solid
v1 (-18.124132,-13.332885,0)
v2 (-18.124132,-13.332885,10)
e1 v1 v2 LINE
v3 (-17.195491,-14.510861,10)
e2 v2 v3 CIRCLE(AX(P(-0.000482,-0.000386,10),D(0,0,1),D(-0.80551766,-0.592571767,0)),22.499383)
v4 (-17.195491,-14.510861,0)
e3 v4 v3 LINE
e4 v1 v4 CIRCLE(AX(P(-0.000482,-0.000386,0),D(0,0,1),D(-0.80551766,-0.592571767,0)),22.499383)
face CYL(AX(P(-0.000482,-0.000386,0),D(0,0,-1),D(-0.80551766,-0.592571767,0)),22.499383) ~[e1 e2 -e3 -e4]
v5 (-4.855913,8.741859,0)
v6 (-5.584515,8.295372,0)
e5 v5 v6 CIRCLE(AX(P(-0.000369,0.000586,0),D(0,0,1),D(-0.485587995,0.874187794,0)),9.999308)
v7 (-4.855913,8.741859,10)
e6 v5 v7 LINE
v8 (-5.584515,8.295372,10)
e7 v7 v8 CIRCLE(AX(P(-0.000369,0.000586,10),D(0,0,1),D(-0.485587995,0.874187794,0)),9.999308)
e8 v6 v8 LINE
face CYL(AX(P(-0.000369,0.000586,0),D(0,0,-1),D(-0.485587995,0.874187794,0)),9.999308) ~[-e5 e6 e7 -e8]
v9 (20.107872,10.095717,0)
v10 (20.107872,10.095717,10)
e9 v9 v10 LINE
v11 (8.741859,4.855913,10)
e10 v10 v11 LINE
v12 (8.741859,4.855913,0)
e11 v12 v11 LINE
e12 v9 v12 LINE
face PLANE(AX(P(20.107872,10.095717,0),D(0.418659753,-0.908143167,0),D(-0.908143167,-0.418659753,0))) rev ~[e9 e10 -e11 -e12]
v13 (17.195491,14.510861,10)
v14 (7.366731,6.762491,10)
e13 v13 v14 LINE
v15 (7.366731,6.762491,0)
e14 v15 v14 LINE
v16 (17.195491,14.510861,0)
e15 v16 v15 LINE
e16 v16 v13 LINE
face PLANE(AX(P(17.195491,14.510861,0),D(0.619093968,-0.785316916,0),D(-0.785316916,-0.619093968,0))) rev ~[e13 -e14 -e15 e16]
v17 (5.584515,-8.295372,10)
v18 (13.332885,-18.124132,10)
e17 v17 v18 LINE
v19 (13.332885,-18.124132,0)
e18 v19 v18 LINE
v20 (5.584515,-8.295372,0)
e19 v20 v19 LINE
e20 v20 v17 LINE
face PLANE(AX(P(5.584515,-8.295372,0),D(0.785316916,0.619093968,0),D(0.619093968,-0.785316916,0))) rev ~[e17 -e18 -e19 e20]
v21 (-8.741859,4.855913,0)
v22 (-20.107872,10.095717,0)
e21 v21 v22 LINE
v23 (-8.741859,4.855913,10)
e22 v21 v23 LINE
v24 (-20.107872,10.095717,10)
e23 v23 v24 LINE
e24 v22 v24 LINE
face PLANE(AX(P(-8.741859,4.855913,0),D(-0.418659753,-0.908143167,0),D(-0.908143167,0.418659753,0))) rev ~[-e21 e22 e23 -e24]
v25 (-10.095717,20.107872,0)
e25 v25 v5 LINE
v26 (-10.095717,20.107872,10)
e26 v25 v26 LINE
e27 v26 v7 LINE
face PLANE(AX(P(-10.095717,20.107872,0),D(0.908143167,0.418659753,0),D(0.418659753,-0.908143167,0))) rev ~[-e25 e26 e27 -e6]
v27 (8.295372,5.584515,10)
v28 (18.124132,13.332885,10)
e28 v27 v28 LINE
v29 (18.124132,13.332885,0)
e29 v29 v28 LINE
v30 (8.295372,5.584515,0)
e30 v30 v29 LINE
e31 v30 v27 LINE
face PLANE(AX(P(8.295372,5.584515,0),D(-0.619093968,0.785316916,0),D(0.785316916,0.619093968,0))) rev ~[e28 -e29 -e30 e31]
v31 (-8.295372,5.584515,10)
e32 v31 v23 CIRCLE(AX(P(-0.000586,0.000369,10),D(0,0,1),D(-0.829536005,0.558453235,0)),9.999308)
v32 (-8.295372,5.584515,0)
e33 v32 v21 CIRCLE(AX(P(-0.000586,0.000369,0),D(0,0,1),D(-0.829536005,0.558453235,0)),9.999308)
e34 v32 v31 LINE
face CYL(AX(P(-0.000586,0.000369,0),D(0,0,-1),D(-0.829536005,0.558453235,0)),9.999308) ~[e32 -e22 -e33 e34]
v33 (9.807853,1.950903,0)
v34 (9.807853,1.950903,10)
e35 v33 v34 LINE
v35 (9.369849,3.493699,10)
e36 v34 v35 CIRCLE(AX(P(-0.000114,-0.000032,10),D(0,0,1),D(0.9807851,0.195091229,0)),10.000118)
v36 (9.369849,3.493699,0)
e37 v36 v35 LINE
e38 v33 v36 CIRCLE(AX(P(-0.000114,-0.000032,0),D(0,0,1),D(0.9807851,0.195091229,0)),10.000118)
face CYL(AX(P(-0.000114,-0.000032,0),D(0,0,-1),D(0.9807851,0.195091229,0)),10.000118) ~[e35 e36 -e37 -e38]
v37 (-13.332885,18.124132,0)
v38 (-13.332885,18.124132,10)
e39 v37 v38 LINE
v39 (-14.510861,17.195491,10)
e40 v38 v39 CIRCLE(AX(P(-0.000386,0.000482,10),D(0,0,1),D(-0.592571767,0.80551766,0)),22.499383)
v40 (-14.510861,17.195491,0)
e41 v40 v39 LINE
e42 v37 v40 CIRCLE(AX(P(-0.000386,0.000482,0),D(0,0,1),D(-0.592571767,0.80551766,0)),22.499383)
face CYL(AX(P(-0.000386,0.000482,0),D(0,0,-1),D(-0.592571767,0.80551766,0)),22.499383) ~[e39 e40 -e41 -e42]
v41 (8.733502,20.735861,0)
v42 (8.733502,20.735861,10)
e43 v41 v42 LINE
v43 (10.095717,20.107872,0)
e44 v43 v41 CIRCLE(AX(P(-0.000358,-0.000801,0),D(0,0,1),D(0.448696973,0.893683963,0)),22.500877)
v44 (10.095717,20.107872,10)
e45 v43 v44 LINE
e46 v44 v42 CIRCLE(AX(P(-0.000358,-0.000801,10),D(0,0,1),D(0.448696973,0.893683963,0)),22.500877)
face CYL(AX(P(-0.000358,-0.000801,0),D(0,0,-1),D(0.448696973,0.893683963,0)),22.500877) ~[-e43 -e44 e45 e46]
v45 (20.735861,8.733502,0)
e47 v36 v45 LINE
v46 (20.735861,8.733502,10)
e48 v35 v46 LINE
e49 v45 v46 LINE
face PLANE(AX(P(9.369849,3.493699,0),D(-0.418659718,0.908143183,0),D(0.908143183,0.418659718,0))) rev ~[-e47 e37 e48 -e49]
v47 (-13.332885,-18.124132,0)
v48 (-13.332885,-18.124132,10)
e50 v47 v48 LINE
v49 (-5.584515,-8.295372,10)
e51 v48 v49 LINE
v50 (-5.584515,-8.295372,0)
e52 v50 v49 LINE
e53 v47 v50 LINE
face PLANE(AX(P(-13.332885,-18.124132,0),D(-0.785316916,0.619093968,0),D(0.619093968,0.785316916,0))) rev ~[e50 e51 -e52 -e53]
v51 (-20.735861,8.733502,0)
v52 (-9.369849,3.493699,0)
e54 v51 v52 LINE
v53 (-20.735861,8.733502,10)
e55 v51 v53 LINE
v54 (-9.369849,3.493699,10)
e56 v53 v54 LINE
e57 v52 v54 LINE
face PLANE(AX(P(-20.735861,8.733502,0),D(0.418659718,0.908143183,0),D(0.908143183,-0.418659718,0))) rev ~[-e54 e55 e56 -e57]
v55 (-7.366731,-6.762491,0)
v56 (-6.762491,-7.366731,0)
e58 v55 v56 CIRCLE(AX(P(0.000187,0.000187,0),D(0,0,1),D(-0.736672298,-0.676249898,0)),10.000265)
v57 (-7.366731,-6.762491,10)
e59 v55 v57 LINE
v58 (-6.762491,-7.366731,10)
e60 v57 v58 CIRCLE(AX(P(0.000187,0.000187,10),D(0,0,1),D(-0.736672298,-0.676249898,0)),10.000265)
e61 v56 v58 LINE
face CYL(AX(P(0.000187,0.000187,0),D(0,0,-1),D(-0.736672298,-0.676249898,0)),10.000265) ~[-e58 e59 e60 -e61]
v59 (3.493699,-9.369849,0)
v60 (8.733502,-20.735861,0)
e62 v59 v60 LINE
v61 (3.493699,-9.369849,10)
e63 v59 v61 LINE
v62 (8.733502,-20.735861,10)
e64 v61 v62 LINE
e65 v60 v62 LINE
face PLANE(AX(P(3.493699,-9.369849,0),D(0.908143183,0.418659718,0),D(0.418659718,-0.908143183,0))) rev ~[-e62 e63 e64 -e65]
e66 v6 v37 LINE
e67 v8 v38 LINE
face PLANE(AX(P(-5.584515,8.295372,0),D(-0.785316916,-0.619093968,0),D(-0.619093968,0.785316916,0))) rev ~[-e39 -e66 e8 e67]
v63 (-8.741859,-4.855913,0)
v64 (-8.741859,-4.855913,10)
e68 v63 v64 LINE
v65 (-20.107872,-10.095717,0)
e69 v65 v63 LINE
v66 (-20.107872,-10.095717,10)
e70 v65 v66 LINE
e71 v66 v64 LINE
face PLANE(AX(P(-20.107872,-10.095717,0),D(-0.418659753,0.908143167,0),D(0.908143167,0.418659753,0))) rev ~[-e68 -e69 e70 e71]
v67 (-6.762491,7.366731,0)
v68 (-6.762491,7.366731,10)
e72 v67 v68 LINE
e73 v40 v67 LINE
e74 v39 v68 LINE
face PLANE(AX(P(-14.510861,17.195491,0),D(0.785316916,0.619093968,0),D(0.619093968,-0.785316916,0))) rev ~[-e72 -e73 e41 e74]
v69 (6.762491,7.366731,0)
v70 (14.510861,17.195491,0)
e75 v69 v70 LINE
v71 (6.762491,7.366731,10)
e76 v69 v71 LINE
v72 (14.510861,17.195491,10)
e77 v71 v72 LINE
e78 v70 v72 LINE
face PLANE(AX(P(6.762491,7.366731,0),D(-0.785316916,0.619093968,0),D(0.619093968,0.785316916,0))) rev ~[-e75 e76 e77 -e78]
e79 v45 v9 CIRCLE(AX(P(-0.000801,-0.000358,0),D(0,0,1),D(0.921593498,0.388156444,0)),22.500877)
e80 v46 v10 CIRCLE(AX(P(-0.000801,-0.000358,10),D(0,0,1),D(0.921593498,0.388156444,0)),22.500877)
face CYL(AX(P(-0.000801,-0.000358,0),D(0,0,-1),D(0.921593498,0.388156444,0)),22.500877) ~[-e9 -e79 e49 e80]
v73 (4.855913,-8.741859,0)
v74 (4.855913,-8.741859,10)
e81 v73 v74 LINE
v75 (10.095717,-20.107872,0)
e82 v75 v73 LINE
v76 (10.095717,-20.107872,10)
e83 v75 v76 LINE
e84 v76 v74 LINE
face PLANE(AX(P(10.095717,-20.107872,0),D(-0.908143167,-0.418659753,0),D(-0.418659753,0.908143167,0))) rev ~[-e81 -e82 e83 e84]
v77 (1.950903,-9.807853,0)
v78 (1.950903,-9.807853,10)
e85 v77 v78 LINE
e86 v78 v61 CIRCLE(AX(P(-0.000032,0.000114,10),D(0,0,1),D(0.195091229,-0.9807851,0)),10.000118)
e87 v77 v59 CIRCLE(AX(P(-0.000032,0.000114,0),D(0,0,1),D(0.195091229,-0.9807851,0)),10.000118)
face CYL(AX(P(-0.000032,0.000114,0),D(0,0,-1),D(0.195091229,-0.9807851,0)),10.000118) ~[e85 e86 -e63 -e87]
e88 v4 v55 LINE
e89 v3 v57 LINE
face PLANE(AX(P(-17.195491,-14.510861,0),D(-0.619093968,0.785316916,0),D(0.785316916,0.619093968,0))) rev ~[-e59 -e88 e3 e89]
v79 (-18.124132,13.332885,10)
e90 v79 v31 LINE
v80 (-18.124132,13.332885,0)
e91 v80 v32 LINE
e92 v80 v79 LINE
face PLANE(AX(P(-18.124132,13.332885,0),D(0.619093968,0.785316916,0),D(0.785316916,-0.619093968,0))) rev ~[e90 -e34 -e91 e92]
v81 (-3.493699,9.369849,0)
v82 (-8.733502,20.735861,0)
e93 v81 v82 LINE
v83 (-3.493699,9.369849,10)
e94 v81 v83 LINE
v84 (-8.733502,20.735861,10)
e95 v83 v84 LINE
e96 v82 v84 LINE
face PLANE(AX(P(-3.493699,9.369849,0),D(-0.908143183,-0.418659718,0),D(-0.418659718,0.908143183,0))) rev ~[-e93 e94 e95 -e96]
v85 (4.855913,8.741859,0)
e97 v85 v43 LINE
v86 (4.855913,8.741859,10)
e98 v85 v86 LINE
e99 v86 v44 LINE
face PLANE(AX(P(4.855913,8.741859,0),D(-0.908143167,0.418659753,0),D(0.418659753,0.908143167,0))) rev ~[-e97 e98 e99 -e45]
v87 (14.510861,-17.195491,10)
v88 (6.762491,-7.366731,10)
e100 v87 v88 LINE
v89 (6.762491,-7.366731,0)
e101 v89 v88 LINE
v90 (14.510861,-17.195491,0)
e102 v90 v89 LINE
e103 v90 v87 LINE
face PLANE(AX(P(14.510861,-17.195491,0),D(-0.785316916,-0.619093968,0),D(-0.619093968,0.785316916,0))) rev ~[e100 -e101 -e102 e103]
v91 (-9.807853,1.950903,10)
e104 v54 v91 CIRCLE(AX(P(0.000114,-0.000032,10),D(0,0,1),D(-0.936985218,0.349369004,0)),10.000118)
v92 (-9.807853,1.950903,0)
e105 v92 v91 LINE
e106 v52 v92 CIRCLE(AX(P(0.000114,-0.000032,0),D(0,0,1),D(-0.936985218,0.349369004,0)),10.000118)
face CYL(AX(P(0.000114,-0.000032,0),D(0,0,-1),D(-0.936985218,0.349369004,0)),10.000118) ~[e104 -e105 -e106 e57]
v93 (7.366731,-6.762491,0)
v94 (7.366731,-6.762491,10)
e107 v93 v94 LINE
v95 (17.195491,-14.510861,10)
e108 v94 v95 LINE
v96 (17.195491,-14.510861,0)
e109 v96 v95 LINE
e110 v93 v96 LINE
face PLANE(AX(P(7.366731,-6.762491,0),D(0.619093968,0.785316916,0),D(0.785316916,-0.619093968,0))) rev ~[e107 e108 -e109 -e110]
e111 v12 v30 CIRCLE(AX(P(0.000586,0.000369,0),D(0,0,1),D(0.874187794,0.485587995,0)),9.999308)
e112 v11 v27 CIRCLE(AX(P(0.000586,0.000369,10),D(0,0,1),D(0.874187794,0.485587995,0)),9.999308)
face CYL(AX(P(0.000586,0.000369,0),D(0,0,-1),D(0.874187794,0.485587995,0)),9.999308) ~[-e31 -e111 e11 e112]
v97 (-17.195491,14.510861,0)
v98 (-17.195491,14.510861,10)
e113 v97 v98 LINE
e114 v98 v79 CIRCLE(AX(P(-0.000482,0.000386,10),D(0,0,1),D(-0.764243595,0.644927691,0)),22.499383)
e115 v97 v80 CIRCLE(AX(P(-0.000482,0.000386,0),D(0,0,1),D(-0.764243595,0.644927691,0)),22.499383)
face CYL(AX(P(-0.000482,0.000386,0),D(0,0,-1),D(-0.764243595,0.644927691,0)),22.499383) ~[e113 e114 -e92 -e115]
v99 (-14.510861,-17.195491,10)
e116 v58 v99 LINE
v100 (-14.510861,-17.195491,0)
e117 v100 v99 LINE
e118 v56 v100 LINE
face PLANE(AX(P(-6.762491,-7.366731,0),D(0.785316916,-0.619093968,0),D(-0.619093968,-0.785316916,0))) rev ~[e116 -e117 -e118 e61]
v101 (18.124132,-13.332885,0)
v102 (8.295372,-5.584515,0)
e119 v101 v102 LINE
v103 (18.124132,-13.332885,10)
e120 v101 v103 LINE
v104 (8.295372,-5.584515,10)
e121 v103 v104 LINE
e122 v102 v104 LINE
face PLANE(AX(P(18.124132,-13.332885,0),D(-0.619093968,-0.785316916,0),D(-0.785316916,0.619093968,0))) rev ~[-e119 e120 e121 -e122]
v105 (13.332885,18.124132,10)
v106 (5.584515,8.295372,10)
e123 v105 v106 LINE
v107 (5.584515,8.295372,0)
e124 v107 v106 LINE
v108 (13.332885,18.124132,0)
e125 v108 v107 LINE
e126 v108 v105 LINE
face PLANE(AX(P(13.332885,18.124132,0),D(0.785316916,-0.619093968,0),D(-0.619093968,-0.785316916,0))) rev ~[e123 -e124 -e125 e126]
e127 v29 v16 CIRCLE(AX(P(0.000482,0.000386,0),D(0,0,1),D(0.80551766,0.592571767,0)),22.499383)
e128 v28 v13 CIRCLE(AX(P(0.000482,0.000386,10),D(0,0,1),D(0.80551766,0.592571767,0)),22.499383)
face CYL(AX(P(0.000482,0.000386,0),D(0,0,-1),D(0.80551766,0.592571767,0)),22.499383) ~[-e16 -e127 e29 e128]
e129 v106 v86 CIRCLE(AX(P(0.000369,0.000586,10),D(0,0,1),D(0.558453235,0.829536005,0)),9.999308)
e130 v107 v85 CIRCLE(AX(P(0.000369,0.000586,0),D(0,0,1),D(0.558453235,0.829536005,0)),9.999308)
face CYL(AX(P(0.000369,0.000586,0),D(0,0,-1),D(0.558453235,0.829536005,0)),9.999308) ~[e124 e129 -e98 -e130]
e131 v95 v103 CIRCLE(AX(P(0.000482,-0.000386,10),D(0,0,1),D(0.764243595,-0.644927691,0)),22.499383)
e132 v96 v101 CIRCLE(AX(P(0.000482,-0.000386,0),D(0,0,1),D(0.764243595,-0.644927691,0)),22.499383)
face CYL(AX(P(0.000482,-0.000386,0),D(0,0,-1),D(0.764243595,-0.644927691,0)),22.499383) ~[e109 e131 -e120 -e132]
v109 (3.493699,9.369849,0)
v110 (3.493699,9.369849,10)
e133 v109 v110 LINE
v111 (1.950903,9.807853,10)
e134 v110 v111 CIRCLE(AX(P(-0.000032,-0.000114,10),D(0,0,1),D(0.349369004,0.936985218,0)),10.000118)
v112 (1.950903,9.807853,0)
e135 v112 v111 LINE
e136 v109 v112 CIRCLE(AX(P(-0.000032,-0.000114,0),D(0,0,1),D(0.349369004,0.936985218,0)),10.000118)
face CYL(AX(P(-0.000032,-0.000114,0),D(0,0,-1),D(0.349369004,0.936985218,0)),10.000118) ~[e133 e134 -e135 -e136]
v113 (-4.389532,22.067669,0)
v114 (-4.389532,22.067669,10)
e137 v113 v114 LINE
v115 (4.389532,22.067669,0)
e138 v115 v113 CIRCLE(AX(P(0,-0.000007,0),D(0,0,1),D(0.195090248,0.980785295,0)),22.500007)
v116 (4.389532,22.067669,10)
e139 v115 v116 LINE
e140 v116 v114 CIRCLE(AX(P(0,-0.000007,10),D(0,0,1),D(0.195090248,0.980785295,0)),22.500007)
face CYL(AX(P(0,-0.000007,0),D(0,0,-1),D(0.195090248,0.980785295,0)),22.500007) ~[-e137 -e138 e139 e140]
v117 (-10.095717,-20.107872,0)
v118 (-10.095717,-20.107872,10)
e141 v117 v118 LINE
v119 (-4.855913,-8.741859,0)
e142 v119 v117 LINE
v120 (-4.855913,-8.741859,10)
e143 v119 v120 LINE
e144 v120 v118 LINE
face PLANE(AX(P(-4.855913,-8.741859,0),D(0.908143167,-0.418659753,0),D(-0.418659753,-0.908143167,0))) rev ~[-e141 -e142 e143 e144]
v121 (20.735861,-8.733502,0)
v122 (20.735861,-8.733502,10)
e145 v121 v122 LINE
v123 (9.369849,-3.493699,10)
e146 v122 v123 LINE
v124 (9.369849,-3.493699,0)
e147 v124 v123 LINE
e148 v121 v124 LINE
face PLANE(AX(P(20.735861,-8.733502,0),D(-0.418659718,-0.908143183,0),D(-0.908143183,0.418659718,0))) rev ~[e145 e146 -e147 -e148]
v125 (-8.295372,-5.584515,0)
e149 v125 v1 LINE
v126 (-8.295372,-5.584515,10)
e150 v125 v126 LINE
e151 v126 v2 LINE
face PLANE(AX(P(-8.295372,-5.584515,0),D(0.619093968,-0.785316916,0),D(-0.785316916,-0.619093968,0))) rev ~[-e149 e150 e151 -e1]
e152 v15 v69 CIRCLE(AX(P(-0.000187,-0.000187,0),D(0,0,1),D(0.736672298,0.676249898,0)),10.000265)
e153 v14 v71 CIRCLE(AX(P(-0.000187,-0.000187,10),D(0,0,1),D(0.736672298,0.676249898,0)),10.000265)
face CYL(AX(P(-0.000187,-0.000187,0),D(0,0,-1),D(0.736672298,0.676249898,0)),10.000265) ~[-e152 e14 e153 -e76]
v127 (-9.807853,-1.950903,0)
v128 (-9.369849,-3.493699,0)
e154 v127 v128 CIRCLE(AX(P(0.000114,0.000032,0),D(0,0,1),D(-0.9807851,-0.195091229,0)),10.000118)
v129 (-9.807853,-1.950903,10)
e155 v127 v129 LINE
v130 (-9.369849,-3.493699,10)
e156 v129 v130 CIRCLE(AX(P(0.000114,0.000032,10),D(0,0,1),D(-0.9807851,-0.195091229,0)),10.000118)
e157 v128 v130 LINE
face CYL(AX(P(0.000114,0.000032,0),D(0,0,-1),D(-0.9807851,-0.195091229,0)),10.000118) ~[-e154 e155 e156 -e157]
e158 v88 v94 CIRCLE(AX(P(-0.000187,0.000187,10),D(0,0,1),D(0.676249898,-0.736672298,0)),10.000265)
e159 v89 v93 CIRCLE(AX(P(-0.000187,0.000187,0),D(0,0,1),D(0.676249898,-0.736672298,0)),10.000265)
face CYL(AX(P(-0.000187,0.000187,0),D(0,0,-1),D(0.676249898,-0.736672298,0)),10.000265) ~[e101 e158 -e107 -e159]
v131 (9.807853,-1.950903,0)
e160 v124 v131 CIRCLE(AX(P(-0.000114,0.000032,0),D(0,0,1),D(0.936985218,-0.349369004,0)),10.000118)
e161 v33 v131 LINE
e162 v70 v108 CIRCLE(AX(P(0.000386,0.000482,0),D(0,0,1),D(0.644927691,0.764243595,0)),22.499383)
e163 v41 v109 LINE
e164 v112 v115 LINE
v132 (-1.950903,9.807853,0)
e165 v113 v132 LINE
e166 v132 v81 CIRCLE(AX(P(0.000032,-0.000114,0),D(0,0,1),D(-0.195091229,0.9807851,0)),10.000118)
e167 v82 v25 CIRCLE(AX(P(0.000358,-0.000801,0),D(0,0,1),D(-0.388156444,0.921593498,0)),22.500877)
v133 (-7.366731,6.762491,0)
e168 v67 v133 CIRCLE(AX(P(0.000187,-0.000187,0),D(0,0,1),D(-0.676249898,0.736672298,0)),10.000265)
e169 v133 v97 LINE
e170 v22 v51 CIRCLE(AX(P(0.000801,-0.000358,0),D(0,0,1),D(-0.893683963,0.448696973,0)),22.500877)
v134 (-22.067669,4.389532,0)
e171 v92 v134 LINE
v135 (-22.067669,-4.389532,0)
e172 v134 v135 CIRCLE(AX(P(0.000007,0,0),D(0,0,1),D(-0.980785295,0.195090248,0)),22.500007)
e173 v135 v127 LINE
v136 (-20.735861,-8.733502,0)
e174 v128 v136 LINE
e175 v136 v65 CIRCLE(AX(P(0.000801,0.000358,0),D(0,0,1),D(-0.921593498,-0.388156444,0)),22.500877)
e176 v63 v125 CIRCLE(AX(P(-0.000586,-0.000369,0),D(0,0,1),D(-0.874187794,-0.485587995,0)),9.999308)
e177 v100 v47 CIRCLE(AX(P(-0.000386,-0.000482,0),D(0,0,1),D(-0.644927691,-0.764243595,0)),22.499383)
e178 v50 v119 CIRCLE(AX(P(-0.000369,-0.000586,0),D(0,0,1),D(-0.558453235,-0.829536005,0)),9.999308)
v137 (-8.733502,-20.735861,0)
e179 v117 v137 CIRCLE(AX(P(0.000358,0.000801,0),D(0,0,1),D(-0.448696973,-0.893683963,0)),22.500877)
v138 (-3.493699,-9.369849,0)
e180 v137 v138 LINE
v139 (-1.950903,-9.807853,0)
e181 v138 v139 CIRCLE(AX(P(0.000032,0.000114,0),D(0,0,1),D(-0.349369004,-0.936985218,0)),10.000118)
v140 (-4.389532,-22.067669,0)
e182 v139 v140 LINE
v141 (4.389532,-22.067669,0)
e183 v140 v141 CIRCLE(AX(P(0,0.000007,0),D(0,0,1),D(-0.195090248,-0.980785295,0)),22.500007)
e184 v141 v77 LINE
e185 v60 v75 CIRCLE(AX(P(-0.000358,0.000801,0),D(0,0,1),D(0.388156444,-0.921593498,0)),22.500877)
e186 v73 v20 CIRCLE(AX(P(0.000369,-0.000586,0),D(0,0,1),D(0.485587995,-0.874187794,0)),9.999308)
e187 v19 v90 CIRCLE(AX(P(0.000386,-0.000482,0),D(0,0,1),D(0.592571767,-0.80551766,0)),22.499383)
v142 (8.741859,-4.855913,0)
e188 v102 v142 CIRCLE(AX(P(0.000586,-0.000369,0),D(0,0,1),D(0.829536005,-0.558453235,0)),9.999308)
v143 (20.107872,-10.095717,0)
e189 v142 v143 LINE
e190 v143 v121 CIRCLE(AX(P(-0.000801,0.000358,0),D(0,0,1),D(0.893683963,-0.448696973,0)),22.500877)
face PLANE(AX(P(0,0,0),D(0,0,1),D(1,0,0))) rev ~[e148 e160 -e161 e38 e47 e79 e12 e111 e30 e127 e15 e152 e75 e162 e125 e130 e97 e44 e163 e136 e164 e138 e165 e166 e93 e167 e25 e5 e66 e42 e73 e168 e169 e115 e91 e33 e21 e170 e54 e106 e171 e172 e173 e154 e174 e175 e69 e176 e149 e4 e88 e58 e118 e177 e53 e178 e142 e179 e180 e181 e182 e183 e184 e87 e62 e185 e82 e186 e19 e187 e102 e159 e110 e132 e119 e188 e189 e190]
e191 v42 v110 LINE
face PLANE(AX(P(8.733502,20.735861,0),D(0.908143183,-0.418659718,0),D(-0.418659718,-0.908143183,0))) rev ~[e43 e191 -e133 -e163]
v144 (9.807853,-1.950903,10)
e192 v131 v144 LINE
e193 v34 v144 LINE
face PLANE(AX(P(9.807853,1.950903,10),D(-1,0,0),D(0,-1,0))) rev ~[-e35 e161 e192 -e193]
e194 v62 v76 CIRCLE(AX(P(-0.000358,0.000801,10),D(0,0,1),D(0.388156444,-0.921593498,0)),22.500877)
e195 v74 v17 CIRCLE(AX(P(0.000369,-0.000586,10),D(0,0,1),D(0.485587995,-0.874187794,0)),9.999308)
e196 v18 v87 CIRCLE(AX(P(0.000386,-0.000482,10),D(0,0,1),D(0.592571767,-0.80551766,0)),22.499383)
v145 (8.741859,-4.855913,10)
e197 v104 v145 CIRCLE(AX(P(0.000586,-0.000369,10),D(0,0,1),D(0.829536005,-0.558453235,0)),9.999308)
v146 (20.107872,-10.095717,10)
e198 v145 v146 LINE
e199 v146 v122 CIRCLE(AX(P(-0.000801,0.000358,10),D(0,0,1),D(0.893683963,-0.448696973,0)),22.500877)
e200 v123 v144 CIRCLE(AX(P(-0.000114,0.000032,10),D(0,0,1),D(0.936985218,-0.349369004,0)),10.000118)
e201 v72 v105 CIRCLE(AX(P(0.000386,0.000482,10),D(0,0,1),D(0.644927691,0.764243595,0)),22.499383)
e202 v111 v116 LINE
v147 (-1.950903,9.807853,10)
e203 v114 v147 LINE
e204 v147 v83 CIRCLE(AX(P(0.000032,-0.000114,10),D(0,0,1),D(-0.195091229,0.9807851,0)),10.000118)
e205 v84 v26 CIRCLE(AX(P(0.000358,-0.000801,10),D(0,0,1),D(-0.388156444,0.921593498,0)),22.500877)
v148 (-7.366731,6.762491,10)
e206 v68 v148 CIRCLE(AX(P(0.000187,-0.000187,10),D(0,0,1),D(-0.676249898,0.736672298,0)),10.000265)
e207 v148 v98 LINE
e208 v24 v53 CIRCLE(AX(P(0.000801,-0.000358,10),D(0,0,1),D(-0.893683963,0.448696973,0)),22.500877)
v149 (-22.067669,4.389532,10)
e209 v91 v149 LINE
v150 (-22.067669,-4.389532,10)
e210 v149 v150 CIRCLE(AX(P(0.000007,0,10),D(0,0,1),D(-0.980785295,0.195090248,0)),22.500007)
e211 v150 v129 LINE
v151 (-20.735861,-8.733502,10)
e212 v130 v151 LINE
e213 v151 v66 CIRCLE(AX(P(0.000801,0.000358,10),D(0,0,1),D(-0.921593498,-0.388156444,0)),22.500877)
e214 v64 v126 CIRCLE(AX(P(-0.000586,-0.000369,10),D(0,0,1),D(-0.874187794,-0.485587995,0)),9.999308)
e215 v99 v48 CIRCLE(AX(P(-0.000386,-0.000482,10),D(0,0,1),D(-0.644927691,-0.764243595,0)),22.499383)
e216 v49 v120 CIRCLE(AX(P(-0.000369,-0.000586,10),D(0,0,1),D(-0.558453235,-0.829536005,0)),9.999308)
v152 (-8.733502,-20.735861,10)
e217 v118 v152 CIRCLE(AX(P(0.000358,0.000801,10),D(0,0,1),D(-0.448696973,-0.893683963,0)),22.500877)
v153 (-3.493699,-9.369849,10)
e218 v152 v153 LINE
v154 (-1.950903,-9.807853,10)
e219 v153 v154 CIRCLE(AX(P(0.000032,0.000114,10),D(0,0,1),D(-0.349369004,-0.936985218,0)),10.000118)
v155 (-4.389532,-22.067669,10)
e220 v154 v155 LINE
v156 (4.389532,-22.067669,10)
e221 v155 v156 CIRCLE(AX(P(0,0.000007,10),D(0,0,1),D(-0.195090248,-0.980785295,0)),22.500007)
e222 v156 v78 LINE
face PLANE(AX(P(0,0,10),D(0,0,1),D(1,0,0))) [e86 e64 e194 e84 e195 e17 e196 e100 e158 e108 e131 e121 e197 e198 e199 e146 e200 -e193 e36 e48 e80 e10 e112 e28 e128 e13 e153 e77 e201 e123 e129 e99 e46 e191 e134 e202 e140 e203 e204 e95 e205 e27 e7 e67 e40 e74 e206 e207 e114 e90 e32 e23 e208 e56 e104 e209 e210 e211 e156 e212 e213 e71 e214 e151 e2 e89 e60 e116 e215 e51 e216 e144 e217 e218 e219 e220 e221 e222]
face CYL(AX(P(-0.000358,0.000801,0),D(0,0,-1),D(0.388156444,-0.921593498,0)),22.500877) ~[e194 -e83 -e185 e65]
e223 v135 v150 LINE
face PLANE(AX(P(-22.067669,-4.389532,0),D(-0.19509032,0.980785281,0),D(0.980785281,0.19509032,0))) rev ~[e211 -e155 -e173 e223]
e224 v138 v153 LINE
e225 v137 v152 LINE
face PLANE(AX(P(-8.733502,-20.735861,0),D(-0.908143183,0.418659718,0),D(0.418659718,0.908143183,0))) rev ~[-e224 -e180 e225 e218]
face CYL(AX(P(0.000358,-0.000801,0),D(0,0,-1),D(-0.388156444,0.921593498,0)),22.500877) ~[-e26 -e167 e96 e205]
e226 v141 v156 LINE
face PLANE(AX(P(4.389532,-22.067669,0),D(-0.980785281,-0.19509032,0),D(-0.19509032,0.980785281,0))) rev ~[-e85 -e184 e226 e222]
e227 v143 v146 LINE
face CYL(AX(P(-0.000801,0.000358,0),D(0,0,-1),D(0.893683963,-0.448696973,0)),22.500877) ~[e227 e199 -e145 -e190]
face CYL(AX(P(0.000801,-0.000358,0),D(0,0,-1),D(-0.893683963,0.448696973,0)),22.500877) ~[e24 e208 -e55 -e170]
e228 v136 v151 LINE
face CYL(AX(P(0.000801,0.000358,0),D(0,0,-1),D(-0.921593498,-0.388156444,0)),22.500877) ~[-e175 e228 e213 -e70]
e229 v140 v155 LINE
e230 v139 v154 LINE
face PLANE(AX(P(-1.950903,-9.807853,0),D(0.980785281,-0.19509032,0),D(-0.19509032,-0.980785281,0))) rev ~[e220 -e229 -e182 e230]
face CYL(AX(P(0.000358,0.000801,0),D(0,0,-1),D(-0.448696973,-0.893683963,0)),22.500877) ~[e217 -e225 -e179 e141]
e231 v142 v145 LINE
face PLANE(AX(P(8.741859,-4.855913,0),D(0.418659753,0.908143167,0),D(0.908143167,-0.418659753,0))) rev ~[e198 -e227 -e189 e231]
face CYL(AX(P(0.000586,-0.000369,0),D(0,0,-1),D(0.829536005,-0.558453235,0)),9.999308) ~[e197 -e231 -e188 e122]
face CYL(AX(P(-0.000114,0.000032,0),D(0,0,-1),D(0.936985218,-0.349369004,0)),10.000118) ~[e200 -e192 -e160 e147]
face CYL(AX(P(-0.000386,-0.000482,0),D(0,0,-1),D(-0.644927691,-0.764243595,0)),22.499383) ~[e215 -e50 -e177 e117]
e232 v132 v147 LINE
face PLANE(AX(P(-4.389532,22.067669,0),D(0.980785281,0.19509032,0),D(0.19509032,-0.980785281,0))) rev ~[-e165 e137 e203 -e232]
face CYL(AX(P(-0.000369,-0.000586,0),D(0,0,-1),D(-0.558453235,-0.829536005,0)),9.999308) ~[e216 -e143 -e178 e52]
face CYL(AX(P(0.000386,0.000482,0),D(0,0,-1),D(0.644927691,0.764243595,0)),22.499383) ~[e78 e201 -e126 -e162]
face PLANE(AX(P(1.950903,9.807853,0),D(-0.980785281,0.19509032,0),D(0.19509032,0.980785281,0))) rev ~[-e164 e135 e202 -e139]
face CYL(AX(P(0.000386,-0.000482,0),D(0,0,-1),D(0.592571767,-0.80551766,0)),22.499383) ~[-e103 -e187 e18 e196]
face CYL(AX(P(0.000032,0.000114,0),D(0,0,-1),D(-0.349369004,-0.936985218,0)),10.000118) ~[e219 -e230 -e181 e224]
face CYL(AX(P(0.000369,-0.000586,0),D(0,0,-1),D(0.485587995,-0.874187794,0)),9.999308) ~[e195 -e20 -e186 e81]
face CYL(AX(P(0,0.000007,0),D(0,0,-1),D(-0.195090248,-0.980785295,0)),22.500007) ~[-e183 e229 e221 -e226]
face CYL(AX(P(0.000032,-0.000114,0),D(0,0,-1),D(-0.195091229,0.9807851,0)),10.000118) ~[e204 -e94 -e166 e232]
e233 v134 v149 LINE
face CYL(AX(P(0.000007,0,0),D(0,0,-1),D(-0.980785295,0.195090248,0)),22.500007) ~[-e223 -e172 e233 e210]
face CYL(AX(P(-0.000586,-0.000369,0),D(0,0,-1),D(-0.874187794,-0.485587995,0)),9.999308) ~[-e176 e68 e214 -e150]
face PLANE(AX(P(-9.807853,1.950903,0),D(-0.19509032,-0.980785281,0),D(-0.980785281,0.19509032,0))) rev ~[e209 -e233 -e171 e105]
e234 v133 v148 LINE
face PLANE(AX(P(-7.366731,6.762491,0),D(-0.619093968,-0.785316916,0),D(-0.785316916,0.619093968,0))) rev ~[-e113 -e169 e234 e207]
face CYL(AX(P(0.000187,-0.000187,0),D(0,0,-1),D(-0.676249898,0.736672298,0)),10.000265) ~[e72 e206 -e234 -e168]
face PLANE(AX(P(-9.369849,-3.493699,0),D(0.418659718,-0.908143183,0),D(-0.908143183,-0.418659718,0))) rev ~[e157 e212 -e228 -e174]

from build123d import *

# Parameters (mm, degrees)
F1_DEPTH = 10
F3_DEPTH = 10.001


with BuildPart() as f1:
    # F0 (on Top) → F1 (new body)
    with BuildSketch(Plane.XY):
        with BuildLine():
            Line((1.950903, 9.807853), (4.389532, 22.067669))
            ThreePointArc((4.389532, 22.067669), (0, 22.5), (-4.389532, 22.067669))
            Line((-4.389532, 22.067669), (-1.950903, 9.807853))
            ThreePointArc((-1.950903, 9.807853), (-2.731096, 9.619829), (-3.493699, 9.369849))
            Line((-3.493699, 9.369849), (-8.733502, 20.735861))
            ThreePointArc((-8.733502, 20.735861), (-9.419844, 20.433221), (-10.095717, 20.107872))
            Line((-10.095717, 20.107872), (-4.855913, 8.741859))
            ThreePointArc((-4.855913, 8.741859), (-5.224986, 8.526402), (-5.584515, 8.295372))
            Line((-5.584515, 8.295372), (-13.332885, 18.124132))
            ThreePointArc((-13.332885, 18.124132), (-13.929614, 17.669631), (-14.510861, 17.195491))
            Line((-14.510861, 17.195491), (-6.762491, 7.366731))
            ThreePointArc((-6.762491, 7.366731), (-7.071068, 7.071068), (-7.366731, 6.762491))
            Line((-7.366731, 6.762491), (-17.195491, 14.510861))
            ThreePointArc((-17.195491, 14.510861), (-17.669631, 13.929614), (-18.124132, 13.332885))
            Line((-18.124132, 13.332885), (-8.295372, 5.584515))
            ThreePointArc((-8.295372, 5.584515), (-8.526402, 5.224986), (-8.741859, 4.855913))
            Line((-8.741859, 4.855913), (-20.107872, 10.095717))
            ThreePointArc((-20.107872, 10.095717), (-20.433221, 9.419844), (-20.735861, 8.733502))
            Line((-20.735861, 8.733502), (-9.369849, 3.493699))
            ThreePointArc((-9.369849, 3.493699), (-9.619829, 2.731096), (-9.807853, 1.950903))
            Line((-9.807853, 1.950903), (-22.067669, 4.389532))
            ThreePointArc((-22.067669, 4.389532), (-22.5, 0), (-22.067669, -4.389532))
            Line((-22.067669, -4.389532), (-9.807853, -1.950903))
            ThreePointArc((-9.807853, -1.950903), (-9.619829, -2.731096), (-9.369849, -3.493699))
            Line((-9.369849, -3.493699), (-20.735861, -8.733502))
            ThreePointArc((-20.735861, -8.733502), (-20.433221, -9.419844), (-20.107872, -10.095717))
            Line((-20.107872, -10.095717), (-8.741859, -4.855913))
            ThreePointArc((-8.741859, -4.855913), (-8.526402, -5.224986), (-8.295372, -5.584515))
            Line((-8.295372, -5.584515), (-18.124132, -13.332885))
            ThreePointArc((-18.124132, -13.332885), (-17.669631, -13.929614), (-17.195491, -14.510861))
            Line((-17.195491, -14.510861), (-7.366731, -6.762491))
            ThreePointArc((-7.366731, -6.762491), (-7.071068, -7.071068), (-6.762491, -7.366731))
            Line((-6.762491, -7.366731), (-14.510861, -17.195491))
            ThreePointArc((-14.510861, -17.195491), (-13.929614, -17.669631), (-13.332885, -18.124132))
            Line((-13.332885, -18.124132), (-5.584515, -8.295372))
            ThreePointArc((-5.584515, -8.295372), (-5.224986, -8.526402), (-4.855913, -8.741859))
            Line((-4.855913, -8.741859), (-10.095717, -20.107872))
            ThreePointArc((-10.095717, -20.107872), (-9.419844, -20.433221), (-8.733502, -20.735861))
            Line((-8.733502, -20.735861), (-3.493699, -9.369849))
            ThreePointArc((-3.493699, -9.369849), (-2.731096, -9.619829), (-1.950903, -9.807853))
            Line((-1.950903, -9.807853), (-4.389532, -22.067669))
            ThreePointArc((-4.389532, -22.067669), (0, -22.5), (4.389532, -22.067669))
            Line((4.389532, -22.067669), (1.950903, -9.807853))
            ThreePointArc((1.950903, -9.807853), (2.731096, -9.619829), (3.493699, -9.369849))
            Line((3.493699, -9.369849), (8.733502, -20.735861))
            ThreePointArc((8.733502, -20.735861), (9.419844, -20.433221), (10.095717, -20.107872))
            Line((10.095717, -20.107872), (4.855913, -8.741859))
            ThreePointArc((4.855913, -8.741859), (5.224986, -8.526402), (5.584515, -8.295372))
            Line((5.584515, -8.295372), (13.332885, -18.124132))
            ThreePointArc((13.332885, -18.124132), (13.929614, -17.669631), (14.510861, -17.195491))
            Line((14.510861, -17.195491), (6.762491, -7.366731))
            ThreePointArc((6.762491, -7.366731), (7.071068, -7.071068), (7.366731, -6.762491))
            Line((7.366731, -6.762491), (17.195491, -14.510861))
            ThreePointArc((17.195491, -14.510861), (17.669631, -13.929614), (18.124132, -13.332885))
            Line((18.124132, -13.332885), (8.295372, -5.584515))
            ThreePointArc((8.295372, -5.584515), (8.526402, -5.224986), (8.741859, -4.855913))
            Line((8.741859, -4.855913), (20.107872, -10.095717))
            ThreePointArc((20.107872, -10.095717), (20.433221, -9.419844), (20.735861, -8.733502))
            Line((20.735861, -8.733502), (9.369849, -3.493699))
            ThreePointArc((9.369849, -3.493699), (9.619829, -2.731096), (9.807853, -1.950903))
            Line((9.807853, -1.950903), (22.067669, -4.389532))
            ThreePointArc((22.067669, -4.389532), (22.5, 0), (22.067669, 4.389532))
            Line((22.067669, 4.389532), (9.807853, 1.950903))
            ThreePointArc((9.807853, 1.950903), (9.619829, 2.731096), (9.369849, 3.493699))
            Line((9.369849, 3.493699), (20.735861, 8.733502))
            ThreePointArc((20.735861, 8.733502), (20.433221, 9.419844), (20.107872, 10.095717))
            Line((20.107872, 10.095717), (8.741859, 4.855913))
            ThreePointArc((8.741859, 4.855913), (8.526402, 5.224986), (8.295372, 5.584515))
            Line((8.295372, 5.584515), (18.124132, 13.332885))
            ThreePointArc((18.124132, 13.332885), (17.669631, 13.929614), (17.195491, 14.510861))
            Line((17.195491, 14.510861), (7.366731, 6.762491))
            ThreePointArc((7.366731, 6.762491), (7.071068, 7.071068), (6.762491, 7.366731))
            Line((6.762491, 7.366731), (14.510861, 17.195491))
            ThreePointArc((14.510861, 17.195491), (13.929614, 17.669631), (13.332885, 18.124132))
            Line((13.332885, 18.124132), (5.584515, 8.295372))
            ThreePointArc((5.584515, 8.295372), (5.224986, 8.526402), (4.855913, 8.741859))
            Line((4.855913, 8.741859), (10.095717, 20.107872))
            ThreePointArc((10.095717, 20.107872), (9.419844, 20.433221), (8.733502, 20.735861))
            Line((8.733502, 20.735861), (3.493699, 9.369849))
            ThreePointArc((3.493699, 9.369849), (2.731096, 9.619829), (1.950903, 9.807853))
        make_face()
    extrude(amount=F1_DEPTH)

    # F2 (on face) → F3 (cut, through all)
    with BuildSketch(Plane.XY.offset(10)):
        with BuildLine():
            Line((22.067669, 4.389532), (9.807853, 1.950903))
            Line((9.807853, 1.950903), (9.807853, -1.950903))
            Line((9.807853, -1.950903), (22.067669, -4.389532))
            ThreePointArc((22.067669, -4.389532), (22.5, 0), (22.067669, 4.389532))
        make_face()
    extrude(amount=-F3_DEPTH, mode=Mode.SUBTRACT)


solid = f1.part
